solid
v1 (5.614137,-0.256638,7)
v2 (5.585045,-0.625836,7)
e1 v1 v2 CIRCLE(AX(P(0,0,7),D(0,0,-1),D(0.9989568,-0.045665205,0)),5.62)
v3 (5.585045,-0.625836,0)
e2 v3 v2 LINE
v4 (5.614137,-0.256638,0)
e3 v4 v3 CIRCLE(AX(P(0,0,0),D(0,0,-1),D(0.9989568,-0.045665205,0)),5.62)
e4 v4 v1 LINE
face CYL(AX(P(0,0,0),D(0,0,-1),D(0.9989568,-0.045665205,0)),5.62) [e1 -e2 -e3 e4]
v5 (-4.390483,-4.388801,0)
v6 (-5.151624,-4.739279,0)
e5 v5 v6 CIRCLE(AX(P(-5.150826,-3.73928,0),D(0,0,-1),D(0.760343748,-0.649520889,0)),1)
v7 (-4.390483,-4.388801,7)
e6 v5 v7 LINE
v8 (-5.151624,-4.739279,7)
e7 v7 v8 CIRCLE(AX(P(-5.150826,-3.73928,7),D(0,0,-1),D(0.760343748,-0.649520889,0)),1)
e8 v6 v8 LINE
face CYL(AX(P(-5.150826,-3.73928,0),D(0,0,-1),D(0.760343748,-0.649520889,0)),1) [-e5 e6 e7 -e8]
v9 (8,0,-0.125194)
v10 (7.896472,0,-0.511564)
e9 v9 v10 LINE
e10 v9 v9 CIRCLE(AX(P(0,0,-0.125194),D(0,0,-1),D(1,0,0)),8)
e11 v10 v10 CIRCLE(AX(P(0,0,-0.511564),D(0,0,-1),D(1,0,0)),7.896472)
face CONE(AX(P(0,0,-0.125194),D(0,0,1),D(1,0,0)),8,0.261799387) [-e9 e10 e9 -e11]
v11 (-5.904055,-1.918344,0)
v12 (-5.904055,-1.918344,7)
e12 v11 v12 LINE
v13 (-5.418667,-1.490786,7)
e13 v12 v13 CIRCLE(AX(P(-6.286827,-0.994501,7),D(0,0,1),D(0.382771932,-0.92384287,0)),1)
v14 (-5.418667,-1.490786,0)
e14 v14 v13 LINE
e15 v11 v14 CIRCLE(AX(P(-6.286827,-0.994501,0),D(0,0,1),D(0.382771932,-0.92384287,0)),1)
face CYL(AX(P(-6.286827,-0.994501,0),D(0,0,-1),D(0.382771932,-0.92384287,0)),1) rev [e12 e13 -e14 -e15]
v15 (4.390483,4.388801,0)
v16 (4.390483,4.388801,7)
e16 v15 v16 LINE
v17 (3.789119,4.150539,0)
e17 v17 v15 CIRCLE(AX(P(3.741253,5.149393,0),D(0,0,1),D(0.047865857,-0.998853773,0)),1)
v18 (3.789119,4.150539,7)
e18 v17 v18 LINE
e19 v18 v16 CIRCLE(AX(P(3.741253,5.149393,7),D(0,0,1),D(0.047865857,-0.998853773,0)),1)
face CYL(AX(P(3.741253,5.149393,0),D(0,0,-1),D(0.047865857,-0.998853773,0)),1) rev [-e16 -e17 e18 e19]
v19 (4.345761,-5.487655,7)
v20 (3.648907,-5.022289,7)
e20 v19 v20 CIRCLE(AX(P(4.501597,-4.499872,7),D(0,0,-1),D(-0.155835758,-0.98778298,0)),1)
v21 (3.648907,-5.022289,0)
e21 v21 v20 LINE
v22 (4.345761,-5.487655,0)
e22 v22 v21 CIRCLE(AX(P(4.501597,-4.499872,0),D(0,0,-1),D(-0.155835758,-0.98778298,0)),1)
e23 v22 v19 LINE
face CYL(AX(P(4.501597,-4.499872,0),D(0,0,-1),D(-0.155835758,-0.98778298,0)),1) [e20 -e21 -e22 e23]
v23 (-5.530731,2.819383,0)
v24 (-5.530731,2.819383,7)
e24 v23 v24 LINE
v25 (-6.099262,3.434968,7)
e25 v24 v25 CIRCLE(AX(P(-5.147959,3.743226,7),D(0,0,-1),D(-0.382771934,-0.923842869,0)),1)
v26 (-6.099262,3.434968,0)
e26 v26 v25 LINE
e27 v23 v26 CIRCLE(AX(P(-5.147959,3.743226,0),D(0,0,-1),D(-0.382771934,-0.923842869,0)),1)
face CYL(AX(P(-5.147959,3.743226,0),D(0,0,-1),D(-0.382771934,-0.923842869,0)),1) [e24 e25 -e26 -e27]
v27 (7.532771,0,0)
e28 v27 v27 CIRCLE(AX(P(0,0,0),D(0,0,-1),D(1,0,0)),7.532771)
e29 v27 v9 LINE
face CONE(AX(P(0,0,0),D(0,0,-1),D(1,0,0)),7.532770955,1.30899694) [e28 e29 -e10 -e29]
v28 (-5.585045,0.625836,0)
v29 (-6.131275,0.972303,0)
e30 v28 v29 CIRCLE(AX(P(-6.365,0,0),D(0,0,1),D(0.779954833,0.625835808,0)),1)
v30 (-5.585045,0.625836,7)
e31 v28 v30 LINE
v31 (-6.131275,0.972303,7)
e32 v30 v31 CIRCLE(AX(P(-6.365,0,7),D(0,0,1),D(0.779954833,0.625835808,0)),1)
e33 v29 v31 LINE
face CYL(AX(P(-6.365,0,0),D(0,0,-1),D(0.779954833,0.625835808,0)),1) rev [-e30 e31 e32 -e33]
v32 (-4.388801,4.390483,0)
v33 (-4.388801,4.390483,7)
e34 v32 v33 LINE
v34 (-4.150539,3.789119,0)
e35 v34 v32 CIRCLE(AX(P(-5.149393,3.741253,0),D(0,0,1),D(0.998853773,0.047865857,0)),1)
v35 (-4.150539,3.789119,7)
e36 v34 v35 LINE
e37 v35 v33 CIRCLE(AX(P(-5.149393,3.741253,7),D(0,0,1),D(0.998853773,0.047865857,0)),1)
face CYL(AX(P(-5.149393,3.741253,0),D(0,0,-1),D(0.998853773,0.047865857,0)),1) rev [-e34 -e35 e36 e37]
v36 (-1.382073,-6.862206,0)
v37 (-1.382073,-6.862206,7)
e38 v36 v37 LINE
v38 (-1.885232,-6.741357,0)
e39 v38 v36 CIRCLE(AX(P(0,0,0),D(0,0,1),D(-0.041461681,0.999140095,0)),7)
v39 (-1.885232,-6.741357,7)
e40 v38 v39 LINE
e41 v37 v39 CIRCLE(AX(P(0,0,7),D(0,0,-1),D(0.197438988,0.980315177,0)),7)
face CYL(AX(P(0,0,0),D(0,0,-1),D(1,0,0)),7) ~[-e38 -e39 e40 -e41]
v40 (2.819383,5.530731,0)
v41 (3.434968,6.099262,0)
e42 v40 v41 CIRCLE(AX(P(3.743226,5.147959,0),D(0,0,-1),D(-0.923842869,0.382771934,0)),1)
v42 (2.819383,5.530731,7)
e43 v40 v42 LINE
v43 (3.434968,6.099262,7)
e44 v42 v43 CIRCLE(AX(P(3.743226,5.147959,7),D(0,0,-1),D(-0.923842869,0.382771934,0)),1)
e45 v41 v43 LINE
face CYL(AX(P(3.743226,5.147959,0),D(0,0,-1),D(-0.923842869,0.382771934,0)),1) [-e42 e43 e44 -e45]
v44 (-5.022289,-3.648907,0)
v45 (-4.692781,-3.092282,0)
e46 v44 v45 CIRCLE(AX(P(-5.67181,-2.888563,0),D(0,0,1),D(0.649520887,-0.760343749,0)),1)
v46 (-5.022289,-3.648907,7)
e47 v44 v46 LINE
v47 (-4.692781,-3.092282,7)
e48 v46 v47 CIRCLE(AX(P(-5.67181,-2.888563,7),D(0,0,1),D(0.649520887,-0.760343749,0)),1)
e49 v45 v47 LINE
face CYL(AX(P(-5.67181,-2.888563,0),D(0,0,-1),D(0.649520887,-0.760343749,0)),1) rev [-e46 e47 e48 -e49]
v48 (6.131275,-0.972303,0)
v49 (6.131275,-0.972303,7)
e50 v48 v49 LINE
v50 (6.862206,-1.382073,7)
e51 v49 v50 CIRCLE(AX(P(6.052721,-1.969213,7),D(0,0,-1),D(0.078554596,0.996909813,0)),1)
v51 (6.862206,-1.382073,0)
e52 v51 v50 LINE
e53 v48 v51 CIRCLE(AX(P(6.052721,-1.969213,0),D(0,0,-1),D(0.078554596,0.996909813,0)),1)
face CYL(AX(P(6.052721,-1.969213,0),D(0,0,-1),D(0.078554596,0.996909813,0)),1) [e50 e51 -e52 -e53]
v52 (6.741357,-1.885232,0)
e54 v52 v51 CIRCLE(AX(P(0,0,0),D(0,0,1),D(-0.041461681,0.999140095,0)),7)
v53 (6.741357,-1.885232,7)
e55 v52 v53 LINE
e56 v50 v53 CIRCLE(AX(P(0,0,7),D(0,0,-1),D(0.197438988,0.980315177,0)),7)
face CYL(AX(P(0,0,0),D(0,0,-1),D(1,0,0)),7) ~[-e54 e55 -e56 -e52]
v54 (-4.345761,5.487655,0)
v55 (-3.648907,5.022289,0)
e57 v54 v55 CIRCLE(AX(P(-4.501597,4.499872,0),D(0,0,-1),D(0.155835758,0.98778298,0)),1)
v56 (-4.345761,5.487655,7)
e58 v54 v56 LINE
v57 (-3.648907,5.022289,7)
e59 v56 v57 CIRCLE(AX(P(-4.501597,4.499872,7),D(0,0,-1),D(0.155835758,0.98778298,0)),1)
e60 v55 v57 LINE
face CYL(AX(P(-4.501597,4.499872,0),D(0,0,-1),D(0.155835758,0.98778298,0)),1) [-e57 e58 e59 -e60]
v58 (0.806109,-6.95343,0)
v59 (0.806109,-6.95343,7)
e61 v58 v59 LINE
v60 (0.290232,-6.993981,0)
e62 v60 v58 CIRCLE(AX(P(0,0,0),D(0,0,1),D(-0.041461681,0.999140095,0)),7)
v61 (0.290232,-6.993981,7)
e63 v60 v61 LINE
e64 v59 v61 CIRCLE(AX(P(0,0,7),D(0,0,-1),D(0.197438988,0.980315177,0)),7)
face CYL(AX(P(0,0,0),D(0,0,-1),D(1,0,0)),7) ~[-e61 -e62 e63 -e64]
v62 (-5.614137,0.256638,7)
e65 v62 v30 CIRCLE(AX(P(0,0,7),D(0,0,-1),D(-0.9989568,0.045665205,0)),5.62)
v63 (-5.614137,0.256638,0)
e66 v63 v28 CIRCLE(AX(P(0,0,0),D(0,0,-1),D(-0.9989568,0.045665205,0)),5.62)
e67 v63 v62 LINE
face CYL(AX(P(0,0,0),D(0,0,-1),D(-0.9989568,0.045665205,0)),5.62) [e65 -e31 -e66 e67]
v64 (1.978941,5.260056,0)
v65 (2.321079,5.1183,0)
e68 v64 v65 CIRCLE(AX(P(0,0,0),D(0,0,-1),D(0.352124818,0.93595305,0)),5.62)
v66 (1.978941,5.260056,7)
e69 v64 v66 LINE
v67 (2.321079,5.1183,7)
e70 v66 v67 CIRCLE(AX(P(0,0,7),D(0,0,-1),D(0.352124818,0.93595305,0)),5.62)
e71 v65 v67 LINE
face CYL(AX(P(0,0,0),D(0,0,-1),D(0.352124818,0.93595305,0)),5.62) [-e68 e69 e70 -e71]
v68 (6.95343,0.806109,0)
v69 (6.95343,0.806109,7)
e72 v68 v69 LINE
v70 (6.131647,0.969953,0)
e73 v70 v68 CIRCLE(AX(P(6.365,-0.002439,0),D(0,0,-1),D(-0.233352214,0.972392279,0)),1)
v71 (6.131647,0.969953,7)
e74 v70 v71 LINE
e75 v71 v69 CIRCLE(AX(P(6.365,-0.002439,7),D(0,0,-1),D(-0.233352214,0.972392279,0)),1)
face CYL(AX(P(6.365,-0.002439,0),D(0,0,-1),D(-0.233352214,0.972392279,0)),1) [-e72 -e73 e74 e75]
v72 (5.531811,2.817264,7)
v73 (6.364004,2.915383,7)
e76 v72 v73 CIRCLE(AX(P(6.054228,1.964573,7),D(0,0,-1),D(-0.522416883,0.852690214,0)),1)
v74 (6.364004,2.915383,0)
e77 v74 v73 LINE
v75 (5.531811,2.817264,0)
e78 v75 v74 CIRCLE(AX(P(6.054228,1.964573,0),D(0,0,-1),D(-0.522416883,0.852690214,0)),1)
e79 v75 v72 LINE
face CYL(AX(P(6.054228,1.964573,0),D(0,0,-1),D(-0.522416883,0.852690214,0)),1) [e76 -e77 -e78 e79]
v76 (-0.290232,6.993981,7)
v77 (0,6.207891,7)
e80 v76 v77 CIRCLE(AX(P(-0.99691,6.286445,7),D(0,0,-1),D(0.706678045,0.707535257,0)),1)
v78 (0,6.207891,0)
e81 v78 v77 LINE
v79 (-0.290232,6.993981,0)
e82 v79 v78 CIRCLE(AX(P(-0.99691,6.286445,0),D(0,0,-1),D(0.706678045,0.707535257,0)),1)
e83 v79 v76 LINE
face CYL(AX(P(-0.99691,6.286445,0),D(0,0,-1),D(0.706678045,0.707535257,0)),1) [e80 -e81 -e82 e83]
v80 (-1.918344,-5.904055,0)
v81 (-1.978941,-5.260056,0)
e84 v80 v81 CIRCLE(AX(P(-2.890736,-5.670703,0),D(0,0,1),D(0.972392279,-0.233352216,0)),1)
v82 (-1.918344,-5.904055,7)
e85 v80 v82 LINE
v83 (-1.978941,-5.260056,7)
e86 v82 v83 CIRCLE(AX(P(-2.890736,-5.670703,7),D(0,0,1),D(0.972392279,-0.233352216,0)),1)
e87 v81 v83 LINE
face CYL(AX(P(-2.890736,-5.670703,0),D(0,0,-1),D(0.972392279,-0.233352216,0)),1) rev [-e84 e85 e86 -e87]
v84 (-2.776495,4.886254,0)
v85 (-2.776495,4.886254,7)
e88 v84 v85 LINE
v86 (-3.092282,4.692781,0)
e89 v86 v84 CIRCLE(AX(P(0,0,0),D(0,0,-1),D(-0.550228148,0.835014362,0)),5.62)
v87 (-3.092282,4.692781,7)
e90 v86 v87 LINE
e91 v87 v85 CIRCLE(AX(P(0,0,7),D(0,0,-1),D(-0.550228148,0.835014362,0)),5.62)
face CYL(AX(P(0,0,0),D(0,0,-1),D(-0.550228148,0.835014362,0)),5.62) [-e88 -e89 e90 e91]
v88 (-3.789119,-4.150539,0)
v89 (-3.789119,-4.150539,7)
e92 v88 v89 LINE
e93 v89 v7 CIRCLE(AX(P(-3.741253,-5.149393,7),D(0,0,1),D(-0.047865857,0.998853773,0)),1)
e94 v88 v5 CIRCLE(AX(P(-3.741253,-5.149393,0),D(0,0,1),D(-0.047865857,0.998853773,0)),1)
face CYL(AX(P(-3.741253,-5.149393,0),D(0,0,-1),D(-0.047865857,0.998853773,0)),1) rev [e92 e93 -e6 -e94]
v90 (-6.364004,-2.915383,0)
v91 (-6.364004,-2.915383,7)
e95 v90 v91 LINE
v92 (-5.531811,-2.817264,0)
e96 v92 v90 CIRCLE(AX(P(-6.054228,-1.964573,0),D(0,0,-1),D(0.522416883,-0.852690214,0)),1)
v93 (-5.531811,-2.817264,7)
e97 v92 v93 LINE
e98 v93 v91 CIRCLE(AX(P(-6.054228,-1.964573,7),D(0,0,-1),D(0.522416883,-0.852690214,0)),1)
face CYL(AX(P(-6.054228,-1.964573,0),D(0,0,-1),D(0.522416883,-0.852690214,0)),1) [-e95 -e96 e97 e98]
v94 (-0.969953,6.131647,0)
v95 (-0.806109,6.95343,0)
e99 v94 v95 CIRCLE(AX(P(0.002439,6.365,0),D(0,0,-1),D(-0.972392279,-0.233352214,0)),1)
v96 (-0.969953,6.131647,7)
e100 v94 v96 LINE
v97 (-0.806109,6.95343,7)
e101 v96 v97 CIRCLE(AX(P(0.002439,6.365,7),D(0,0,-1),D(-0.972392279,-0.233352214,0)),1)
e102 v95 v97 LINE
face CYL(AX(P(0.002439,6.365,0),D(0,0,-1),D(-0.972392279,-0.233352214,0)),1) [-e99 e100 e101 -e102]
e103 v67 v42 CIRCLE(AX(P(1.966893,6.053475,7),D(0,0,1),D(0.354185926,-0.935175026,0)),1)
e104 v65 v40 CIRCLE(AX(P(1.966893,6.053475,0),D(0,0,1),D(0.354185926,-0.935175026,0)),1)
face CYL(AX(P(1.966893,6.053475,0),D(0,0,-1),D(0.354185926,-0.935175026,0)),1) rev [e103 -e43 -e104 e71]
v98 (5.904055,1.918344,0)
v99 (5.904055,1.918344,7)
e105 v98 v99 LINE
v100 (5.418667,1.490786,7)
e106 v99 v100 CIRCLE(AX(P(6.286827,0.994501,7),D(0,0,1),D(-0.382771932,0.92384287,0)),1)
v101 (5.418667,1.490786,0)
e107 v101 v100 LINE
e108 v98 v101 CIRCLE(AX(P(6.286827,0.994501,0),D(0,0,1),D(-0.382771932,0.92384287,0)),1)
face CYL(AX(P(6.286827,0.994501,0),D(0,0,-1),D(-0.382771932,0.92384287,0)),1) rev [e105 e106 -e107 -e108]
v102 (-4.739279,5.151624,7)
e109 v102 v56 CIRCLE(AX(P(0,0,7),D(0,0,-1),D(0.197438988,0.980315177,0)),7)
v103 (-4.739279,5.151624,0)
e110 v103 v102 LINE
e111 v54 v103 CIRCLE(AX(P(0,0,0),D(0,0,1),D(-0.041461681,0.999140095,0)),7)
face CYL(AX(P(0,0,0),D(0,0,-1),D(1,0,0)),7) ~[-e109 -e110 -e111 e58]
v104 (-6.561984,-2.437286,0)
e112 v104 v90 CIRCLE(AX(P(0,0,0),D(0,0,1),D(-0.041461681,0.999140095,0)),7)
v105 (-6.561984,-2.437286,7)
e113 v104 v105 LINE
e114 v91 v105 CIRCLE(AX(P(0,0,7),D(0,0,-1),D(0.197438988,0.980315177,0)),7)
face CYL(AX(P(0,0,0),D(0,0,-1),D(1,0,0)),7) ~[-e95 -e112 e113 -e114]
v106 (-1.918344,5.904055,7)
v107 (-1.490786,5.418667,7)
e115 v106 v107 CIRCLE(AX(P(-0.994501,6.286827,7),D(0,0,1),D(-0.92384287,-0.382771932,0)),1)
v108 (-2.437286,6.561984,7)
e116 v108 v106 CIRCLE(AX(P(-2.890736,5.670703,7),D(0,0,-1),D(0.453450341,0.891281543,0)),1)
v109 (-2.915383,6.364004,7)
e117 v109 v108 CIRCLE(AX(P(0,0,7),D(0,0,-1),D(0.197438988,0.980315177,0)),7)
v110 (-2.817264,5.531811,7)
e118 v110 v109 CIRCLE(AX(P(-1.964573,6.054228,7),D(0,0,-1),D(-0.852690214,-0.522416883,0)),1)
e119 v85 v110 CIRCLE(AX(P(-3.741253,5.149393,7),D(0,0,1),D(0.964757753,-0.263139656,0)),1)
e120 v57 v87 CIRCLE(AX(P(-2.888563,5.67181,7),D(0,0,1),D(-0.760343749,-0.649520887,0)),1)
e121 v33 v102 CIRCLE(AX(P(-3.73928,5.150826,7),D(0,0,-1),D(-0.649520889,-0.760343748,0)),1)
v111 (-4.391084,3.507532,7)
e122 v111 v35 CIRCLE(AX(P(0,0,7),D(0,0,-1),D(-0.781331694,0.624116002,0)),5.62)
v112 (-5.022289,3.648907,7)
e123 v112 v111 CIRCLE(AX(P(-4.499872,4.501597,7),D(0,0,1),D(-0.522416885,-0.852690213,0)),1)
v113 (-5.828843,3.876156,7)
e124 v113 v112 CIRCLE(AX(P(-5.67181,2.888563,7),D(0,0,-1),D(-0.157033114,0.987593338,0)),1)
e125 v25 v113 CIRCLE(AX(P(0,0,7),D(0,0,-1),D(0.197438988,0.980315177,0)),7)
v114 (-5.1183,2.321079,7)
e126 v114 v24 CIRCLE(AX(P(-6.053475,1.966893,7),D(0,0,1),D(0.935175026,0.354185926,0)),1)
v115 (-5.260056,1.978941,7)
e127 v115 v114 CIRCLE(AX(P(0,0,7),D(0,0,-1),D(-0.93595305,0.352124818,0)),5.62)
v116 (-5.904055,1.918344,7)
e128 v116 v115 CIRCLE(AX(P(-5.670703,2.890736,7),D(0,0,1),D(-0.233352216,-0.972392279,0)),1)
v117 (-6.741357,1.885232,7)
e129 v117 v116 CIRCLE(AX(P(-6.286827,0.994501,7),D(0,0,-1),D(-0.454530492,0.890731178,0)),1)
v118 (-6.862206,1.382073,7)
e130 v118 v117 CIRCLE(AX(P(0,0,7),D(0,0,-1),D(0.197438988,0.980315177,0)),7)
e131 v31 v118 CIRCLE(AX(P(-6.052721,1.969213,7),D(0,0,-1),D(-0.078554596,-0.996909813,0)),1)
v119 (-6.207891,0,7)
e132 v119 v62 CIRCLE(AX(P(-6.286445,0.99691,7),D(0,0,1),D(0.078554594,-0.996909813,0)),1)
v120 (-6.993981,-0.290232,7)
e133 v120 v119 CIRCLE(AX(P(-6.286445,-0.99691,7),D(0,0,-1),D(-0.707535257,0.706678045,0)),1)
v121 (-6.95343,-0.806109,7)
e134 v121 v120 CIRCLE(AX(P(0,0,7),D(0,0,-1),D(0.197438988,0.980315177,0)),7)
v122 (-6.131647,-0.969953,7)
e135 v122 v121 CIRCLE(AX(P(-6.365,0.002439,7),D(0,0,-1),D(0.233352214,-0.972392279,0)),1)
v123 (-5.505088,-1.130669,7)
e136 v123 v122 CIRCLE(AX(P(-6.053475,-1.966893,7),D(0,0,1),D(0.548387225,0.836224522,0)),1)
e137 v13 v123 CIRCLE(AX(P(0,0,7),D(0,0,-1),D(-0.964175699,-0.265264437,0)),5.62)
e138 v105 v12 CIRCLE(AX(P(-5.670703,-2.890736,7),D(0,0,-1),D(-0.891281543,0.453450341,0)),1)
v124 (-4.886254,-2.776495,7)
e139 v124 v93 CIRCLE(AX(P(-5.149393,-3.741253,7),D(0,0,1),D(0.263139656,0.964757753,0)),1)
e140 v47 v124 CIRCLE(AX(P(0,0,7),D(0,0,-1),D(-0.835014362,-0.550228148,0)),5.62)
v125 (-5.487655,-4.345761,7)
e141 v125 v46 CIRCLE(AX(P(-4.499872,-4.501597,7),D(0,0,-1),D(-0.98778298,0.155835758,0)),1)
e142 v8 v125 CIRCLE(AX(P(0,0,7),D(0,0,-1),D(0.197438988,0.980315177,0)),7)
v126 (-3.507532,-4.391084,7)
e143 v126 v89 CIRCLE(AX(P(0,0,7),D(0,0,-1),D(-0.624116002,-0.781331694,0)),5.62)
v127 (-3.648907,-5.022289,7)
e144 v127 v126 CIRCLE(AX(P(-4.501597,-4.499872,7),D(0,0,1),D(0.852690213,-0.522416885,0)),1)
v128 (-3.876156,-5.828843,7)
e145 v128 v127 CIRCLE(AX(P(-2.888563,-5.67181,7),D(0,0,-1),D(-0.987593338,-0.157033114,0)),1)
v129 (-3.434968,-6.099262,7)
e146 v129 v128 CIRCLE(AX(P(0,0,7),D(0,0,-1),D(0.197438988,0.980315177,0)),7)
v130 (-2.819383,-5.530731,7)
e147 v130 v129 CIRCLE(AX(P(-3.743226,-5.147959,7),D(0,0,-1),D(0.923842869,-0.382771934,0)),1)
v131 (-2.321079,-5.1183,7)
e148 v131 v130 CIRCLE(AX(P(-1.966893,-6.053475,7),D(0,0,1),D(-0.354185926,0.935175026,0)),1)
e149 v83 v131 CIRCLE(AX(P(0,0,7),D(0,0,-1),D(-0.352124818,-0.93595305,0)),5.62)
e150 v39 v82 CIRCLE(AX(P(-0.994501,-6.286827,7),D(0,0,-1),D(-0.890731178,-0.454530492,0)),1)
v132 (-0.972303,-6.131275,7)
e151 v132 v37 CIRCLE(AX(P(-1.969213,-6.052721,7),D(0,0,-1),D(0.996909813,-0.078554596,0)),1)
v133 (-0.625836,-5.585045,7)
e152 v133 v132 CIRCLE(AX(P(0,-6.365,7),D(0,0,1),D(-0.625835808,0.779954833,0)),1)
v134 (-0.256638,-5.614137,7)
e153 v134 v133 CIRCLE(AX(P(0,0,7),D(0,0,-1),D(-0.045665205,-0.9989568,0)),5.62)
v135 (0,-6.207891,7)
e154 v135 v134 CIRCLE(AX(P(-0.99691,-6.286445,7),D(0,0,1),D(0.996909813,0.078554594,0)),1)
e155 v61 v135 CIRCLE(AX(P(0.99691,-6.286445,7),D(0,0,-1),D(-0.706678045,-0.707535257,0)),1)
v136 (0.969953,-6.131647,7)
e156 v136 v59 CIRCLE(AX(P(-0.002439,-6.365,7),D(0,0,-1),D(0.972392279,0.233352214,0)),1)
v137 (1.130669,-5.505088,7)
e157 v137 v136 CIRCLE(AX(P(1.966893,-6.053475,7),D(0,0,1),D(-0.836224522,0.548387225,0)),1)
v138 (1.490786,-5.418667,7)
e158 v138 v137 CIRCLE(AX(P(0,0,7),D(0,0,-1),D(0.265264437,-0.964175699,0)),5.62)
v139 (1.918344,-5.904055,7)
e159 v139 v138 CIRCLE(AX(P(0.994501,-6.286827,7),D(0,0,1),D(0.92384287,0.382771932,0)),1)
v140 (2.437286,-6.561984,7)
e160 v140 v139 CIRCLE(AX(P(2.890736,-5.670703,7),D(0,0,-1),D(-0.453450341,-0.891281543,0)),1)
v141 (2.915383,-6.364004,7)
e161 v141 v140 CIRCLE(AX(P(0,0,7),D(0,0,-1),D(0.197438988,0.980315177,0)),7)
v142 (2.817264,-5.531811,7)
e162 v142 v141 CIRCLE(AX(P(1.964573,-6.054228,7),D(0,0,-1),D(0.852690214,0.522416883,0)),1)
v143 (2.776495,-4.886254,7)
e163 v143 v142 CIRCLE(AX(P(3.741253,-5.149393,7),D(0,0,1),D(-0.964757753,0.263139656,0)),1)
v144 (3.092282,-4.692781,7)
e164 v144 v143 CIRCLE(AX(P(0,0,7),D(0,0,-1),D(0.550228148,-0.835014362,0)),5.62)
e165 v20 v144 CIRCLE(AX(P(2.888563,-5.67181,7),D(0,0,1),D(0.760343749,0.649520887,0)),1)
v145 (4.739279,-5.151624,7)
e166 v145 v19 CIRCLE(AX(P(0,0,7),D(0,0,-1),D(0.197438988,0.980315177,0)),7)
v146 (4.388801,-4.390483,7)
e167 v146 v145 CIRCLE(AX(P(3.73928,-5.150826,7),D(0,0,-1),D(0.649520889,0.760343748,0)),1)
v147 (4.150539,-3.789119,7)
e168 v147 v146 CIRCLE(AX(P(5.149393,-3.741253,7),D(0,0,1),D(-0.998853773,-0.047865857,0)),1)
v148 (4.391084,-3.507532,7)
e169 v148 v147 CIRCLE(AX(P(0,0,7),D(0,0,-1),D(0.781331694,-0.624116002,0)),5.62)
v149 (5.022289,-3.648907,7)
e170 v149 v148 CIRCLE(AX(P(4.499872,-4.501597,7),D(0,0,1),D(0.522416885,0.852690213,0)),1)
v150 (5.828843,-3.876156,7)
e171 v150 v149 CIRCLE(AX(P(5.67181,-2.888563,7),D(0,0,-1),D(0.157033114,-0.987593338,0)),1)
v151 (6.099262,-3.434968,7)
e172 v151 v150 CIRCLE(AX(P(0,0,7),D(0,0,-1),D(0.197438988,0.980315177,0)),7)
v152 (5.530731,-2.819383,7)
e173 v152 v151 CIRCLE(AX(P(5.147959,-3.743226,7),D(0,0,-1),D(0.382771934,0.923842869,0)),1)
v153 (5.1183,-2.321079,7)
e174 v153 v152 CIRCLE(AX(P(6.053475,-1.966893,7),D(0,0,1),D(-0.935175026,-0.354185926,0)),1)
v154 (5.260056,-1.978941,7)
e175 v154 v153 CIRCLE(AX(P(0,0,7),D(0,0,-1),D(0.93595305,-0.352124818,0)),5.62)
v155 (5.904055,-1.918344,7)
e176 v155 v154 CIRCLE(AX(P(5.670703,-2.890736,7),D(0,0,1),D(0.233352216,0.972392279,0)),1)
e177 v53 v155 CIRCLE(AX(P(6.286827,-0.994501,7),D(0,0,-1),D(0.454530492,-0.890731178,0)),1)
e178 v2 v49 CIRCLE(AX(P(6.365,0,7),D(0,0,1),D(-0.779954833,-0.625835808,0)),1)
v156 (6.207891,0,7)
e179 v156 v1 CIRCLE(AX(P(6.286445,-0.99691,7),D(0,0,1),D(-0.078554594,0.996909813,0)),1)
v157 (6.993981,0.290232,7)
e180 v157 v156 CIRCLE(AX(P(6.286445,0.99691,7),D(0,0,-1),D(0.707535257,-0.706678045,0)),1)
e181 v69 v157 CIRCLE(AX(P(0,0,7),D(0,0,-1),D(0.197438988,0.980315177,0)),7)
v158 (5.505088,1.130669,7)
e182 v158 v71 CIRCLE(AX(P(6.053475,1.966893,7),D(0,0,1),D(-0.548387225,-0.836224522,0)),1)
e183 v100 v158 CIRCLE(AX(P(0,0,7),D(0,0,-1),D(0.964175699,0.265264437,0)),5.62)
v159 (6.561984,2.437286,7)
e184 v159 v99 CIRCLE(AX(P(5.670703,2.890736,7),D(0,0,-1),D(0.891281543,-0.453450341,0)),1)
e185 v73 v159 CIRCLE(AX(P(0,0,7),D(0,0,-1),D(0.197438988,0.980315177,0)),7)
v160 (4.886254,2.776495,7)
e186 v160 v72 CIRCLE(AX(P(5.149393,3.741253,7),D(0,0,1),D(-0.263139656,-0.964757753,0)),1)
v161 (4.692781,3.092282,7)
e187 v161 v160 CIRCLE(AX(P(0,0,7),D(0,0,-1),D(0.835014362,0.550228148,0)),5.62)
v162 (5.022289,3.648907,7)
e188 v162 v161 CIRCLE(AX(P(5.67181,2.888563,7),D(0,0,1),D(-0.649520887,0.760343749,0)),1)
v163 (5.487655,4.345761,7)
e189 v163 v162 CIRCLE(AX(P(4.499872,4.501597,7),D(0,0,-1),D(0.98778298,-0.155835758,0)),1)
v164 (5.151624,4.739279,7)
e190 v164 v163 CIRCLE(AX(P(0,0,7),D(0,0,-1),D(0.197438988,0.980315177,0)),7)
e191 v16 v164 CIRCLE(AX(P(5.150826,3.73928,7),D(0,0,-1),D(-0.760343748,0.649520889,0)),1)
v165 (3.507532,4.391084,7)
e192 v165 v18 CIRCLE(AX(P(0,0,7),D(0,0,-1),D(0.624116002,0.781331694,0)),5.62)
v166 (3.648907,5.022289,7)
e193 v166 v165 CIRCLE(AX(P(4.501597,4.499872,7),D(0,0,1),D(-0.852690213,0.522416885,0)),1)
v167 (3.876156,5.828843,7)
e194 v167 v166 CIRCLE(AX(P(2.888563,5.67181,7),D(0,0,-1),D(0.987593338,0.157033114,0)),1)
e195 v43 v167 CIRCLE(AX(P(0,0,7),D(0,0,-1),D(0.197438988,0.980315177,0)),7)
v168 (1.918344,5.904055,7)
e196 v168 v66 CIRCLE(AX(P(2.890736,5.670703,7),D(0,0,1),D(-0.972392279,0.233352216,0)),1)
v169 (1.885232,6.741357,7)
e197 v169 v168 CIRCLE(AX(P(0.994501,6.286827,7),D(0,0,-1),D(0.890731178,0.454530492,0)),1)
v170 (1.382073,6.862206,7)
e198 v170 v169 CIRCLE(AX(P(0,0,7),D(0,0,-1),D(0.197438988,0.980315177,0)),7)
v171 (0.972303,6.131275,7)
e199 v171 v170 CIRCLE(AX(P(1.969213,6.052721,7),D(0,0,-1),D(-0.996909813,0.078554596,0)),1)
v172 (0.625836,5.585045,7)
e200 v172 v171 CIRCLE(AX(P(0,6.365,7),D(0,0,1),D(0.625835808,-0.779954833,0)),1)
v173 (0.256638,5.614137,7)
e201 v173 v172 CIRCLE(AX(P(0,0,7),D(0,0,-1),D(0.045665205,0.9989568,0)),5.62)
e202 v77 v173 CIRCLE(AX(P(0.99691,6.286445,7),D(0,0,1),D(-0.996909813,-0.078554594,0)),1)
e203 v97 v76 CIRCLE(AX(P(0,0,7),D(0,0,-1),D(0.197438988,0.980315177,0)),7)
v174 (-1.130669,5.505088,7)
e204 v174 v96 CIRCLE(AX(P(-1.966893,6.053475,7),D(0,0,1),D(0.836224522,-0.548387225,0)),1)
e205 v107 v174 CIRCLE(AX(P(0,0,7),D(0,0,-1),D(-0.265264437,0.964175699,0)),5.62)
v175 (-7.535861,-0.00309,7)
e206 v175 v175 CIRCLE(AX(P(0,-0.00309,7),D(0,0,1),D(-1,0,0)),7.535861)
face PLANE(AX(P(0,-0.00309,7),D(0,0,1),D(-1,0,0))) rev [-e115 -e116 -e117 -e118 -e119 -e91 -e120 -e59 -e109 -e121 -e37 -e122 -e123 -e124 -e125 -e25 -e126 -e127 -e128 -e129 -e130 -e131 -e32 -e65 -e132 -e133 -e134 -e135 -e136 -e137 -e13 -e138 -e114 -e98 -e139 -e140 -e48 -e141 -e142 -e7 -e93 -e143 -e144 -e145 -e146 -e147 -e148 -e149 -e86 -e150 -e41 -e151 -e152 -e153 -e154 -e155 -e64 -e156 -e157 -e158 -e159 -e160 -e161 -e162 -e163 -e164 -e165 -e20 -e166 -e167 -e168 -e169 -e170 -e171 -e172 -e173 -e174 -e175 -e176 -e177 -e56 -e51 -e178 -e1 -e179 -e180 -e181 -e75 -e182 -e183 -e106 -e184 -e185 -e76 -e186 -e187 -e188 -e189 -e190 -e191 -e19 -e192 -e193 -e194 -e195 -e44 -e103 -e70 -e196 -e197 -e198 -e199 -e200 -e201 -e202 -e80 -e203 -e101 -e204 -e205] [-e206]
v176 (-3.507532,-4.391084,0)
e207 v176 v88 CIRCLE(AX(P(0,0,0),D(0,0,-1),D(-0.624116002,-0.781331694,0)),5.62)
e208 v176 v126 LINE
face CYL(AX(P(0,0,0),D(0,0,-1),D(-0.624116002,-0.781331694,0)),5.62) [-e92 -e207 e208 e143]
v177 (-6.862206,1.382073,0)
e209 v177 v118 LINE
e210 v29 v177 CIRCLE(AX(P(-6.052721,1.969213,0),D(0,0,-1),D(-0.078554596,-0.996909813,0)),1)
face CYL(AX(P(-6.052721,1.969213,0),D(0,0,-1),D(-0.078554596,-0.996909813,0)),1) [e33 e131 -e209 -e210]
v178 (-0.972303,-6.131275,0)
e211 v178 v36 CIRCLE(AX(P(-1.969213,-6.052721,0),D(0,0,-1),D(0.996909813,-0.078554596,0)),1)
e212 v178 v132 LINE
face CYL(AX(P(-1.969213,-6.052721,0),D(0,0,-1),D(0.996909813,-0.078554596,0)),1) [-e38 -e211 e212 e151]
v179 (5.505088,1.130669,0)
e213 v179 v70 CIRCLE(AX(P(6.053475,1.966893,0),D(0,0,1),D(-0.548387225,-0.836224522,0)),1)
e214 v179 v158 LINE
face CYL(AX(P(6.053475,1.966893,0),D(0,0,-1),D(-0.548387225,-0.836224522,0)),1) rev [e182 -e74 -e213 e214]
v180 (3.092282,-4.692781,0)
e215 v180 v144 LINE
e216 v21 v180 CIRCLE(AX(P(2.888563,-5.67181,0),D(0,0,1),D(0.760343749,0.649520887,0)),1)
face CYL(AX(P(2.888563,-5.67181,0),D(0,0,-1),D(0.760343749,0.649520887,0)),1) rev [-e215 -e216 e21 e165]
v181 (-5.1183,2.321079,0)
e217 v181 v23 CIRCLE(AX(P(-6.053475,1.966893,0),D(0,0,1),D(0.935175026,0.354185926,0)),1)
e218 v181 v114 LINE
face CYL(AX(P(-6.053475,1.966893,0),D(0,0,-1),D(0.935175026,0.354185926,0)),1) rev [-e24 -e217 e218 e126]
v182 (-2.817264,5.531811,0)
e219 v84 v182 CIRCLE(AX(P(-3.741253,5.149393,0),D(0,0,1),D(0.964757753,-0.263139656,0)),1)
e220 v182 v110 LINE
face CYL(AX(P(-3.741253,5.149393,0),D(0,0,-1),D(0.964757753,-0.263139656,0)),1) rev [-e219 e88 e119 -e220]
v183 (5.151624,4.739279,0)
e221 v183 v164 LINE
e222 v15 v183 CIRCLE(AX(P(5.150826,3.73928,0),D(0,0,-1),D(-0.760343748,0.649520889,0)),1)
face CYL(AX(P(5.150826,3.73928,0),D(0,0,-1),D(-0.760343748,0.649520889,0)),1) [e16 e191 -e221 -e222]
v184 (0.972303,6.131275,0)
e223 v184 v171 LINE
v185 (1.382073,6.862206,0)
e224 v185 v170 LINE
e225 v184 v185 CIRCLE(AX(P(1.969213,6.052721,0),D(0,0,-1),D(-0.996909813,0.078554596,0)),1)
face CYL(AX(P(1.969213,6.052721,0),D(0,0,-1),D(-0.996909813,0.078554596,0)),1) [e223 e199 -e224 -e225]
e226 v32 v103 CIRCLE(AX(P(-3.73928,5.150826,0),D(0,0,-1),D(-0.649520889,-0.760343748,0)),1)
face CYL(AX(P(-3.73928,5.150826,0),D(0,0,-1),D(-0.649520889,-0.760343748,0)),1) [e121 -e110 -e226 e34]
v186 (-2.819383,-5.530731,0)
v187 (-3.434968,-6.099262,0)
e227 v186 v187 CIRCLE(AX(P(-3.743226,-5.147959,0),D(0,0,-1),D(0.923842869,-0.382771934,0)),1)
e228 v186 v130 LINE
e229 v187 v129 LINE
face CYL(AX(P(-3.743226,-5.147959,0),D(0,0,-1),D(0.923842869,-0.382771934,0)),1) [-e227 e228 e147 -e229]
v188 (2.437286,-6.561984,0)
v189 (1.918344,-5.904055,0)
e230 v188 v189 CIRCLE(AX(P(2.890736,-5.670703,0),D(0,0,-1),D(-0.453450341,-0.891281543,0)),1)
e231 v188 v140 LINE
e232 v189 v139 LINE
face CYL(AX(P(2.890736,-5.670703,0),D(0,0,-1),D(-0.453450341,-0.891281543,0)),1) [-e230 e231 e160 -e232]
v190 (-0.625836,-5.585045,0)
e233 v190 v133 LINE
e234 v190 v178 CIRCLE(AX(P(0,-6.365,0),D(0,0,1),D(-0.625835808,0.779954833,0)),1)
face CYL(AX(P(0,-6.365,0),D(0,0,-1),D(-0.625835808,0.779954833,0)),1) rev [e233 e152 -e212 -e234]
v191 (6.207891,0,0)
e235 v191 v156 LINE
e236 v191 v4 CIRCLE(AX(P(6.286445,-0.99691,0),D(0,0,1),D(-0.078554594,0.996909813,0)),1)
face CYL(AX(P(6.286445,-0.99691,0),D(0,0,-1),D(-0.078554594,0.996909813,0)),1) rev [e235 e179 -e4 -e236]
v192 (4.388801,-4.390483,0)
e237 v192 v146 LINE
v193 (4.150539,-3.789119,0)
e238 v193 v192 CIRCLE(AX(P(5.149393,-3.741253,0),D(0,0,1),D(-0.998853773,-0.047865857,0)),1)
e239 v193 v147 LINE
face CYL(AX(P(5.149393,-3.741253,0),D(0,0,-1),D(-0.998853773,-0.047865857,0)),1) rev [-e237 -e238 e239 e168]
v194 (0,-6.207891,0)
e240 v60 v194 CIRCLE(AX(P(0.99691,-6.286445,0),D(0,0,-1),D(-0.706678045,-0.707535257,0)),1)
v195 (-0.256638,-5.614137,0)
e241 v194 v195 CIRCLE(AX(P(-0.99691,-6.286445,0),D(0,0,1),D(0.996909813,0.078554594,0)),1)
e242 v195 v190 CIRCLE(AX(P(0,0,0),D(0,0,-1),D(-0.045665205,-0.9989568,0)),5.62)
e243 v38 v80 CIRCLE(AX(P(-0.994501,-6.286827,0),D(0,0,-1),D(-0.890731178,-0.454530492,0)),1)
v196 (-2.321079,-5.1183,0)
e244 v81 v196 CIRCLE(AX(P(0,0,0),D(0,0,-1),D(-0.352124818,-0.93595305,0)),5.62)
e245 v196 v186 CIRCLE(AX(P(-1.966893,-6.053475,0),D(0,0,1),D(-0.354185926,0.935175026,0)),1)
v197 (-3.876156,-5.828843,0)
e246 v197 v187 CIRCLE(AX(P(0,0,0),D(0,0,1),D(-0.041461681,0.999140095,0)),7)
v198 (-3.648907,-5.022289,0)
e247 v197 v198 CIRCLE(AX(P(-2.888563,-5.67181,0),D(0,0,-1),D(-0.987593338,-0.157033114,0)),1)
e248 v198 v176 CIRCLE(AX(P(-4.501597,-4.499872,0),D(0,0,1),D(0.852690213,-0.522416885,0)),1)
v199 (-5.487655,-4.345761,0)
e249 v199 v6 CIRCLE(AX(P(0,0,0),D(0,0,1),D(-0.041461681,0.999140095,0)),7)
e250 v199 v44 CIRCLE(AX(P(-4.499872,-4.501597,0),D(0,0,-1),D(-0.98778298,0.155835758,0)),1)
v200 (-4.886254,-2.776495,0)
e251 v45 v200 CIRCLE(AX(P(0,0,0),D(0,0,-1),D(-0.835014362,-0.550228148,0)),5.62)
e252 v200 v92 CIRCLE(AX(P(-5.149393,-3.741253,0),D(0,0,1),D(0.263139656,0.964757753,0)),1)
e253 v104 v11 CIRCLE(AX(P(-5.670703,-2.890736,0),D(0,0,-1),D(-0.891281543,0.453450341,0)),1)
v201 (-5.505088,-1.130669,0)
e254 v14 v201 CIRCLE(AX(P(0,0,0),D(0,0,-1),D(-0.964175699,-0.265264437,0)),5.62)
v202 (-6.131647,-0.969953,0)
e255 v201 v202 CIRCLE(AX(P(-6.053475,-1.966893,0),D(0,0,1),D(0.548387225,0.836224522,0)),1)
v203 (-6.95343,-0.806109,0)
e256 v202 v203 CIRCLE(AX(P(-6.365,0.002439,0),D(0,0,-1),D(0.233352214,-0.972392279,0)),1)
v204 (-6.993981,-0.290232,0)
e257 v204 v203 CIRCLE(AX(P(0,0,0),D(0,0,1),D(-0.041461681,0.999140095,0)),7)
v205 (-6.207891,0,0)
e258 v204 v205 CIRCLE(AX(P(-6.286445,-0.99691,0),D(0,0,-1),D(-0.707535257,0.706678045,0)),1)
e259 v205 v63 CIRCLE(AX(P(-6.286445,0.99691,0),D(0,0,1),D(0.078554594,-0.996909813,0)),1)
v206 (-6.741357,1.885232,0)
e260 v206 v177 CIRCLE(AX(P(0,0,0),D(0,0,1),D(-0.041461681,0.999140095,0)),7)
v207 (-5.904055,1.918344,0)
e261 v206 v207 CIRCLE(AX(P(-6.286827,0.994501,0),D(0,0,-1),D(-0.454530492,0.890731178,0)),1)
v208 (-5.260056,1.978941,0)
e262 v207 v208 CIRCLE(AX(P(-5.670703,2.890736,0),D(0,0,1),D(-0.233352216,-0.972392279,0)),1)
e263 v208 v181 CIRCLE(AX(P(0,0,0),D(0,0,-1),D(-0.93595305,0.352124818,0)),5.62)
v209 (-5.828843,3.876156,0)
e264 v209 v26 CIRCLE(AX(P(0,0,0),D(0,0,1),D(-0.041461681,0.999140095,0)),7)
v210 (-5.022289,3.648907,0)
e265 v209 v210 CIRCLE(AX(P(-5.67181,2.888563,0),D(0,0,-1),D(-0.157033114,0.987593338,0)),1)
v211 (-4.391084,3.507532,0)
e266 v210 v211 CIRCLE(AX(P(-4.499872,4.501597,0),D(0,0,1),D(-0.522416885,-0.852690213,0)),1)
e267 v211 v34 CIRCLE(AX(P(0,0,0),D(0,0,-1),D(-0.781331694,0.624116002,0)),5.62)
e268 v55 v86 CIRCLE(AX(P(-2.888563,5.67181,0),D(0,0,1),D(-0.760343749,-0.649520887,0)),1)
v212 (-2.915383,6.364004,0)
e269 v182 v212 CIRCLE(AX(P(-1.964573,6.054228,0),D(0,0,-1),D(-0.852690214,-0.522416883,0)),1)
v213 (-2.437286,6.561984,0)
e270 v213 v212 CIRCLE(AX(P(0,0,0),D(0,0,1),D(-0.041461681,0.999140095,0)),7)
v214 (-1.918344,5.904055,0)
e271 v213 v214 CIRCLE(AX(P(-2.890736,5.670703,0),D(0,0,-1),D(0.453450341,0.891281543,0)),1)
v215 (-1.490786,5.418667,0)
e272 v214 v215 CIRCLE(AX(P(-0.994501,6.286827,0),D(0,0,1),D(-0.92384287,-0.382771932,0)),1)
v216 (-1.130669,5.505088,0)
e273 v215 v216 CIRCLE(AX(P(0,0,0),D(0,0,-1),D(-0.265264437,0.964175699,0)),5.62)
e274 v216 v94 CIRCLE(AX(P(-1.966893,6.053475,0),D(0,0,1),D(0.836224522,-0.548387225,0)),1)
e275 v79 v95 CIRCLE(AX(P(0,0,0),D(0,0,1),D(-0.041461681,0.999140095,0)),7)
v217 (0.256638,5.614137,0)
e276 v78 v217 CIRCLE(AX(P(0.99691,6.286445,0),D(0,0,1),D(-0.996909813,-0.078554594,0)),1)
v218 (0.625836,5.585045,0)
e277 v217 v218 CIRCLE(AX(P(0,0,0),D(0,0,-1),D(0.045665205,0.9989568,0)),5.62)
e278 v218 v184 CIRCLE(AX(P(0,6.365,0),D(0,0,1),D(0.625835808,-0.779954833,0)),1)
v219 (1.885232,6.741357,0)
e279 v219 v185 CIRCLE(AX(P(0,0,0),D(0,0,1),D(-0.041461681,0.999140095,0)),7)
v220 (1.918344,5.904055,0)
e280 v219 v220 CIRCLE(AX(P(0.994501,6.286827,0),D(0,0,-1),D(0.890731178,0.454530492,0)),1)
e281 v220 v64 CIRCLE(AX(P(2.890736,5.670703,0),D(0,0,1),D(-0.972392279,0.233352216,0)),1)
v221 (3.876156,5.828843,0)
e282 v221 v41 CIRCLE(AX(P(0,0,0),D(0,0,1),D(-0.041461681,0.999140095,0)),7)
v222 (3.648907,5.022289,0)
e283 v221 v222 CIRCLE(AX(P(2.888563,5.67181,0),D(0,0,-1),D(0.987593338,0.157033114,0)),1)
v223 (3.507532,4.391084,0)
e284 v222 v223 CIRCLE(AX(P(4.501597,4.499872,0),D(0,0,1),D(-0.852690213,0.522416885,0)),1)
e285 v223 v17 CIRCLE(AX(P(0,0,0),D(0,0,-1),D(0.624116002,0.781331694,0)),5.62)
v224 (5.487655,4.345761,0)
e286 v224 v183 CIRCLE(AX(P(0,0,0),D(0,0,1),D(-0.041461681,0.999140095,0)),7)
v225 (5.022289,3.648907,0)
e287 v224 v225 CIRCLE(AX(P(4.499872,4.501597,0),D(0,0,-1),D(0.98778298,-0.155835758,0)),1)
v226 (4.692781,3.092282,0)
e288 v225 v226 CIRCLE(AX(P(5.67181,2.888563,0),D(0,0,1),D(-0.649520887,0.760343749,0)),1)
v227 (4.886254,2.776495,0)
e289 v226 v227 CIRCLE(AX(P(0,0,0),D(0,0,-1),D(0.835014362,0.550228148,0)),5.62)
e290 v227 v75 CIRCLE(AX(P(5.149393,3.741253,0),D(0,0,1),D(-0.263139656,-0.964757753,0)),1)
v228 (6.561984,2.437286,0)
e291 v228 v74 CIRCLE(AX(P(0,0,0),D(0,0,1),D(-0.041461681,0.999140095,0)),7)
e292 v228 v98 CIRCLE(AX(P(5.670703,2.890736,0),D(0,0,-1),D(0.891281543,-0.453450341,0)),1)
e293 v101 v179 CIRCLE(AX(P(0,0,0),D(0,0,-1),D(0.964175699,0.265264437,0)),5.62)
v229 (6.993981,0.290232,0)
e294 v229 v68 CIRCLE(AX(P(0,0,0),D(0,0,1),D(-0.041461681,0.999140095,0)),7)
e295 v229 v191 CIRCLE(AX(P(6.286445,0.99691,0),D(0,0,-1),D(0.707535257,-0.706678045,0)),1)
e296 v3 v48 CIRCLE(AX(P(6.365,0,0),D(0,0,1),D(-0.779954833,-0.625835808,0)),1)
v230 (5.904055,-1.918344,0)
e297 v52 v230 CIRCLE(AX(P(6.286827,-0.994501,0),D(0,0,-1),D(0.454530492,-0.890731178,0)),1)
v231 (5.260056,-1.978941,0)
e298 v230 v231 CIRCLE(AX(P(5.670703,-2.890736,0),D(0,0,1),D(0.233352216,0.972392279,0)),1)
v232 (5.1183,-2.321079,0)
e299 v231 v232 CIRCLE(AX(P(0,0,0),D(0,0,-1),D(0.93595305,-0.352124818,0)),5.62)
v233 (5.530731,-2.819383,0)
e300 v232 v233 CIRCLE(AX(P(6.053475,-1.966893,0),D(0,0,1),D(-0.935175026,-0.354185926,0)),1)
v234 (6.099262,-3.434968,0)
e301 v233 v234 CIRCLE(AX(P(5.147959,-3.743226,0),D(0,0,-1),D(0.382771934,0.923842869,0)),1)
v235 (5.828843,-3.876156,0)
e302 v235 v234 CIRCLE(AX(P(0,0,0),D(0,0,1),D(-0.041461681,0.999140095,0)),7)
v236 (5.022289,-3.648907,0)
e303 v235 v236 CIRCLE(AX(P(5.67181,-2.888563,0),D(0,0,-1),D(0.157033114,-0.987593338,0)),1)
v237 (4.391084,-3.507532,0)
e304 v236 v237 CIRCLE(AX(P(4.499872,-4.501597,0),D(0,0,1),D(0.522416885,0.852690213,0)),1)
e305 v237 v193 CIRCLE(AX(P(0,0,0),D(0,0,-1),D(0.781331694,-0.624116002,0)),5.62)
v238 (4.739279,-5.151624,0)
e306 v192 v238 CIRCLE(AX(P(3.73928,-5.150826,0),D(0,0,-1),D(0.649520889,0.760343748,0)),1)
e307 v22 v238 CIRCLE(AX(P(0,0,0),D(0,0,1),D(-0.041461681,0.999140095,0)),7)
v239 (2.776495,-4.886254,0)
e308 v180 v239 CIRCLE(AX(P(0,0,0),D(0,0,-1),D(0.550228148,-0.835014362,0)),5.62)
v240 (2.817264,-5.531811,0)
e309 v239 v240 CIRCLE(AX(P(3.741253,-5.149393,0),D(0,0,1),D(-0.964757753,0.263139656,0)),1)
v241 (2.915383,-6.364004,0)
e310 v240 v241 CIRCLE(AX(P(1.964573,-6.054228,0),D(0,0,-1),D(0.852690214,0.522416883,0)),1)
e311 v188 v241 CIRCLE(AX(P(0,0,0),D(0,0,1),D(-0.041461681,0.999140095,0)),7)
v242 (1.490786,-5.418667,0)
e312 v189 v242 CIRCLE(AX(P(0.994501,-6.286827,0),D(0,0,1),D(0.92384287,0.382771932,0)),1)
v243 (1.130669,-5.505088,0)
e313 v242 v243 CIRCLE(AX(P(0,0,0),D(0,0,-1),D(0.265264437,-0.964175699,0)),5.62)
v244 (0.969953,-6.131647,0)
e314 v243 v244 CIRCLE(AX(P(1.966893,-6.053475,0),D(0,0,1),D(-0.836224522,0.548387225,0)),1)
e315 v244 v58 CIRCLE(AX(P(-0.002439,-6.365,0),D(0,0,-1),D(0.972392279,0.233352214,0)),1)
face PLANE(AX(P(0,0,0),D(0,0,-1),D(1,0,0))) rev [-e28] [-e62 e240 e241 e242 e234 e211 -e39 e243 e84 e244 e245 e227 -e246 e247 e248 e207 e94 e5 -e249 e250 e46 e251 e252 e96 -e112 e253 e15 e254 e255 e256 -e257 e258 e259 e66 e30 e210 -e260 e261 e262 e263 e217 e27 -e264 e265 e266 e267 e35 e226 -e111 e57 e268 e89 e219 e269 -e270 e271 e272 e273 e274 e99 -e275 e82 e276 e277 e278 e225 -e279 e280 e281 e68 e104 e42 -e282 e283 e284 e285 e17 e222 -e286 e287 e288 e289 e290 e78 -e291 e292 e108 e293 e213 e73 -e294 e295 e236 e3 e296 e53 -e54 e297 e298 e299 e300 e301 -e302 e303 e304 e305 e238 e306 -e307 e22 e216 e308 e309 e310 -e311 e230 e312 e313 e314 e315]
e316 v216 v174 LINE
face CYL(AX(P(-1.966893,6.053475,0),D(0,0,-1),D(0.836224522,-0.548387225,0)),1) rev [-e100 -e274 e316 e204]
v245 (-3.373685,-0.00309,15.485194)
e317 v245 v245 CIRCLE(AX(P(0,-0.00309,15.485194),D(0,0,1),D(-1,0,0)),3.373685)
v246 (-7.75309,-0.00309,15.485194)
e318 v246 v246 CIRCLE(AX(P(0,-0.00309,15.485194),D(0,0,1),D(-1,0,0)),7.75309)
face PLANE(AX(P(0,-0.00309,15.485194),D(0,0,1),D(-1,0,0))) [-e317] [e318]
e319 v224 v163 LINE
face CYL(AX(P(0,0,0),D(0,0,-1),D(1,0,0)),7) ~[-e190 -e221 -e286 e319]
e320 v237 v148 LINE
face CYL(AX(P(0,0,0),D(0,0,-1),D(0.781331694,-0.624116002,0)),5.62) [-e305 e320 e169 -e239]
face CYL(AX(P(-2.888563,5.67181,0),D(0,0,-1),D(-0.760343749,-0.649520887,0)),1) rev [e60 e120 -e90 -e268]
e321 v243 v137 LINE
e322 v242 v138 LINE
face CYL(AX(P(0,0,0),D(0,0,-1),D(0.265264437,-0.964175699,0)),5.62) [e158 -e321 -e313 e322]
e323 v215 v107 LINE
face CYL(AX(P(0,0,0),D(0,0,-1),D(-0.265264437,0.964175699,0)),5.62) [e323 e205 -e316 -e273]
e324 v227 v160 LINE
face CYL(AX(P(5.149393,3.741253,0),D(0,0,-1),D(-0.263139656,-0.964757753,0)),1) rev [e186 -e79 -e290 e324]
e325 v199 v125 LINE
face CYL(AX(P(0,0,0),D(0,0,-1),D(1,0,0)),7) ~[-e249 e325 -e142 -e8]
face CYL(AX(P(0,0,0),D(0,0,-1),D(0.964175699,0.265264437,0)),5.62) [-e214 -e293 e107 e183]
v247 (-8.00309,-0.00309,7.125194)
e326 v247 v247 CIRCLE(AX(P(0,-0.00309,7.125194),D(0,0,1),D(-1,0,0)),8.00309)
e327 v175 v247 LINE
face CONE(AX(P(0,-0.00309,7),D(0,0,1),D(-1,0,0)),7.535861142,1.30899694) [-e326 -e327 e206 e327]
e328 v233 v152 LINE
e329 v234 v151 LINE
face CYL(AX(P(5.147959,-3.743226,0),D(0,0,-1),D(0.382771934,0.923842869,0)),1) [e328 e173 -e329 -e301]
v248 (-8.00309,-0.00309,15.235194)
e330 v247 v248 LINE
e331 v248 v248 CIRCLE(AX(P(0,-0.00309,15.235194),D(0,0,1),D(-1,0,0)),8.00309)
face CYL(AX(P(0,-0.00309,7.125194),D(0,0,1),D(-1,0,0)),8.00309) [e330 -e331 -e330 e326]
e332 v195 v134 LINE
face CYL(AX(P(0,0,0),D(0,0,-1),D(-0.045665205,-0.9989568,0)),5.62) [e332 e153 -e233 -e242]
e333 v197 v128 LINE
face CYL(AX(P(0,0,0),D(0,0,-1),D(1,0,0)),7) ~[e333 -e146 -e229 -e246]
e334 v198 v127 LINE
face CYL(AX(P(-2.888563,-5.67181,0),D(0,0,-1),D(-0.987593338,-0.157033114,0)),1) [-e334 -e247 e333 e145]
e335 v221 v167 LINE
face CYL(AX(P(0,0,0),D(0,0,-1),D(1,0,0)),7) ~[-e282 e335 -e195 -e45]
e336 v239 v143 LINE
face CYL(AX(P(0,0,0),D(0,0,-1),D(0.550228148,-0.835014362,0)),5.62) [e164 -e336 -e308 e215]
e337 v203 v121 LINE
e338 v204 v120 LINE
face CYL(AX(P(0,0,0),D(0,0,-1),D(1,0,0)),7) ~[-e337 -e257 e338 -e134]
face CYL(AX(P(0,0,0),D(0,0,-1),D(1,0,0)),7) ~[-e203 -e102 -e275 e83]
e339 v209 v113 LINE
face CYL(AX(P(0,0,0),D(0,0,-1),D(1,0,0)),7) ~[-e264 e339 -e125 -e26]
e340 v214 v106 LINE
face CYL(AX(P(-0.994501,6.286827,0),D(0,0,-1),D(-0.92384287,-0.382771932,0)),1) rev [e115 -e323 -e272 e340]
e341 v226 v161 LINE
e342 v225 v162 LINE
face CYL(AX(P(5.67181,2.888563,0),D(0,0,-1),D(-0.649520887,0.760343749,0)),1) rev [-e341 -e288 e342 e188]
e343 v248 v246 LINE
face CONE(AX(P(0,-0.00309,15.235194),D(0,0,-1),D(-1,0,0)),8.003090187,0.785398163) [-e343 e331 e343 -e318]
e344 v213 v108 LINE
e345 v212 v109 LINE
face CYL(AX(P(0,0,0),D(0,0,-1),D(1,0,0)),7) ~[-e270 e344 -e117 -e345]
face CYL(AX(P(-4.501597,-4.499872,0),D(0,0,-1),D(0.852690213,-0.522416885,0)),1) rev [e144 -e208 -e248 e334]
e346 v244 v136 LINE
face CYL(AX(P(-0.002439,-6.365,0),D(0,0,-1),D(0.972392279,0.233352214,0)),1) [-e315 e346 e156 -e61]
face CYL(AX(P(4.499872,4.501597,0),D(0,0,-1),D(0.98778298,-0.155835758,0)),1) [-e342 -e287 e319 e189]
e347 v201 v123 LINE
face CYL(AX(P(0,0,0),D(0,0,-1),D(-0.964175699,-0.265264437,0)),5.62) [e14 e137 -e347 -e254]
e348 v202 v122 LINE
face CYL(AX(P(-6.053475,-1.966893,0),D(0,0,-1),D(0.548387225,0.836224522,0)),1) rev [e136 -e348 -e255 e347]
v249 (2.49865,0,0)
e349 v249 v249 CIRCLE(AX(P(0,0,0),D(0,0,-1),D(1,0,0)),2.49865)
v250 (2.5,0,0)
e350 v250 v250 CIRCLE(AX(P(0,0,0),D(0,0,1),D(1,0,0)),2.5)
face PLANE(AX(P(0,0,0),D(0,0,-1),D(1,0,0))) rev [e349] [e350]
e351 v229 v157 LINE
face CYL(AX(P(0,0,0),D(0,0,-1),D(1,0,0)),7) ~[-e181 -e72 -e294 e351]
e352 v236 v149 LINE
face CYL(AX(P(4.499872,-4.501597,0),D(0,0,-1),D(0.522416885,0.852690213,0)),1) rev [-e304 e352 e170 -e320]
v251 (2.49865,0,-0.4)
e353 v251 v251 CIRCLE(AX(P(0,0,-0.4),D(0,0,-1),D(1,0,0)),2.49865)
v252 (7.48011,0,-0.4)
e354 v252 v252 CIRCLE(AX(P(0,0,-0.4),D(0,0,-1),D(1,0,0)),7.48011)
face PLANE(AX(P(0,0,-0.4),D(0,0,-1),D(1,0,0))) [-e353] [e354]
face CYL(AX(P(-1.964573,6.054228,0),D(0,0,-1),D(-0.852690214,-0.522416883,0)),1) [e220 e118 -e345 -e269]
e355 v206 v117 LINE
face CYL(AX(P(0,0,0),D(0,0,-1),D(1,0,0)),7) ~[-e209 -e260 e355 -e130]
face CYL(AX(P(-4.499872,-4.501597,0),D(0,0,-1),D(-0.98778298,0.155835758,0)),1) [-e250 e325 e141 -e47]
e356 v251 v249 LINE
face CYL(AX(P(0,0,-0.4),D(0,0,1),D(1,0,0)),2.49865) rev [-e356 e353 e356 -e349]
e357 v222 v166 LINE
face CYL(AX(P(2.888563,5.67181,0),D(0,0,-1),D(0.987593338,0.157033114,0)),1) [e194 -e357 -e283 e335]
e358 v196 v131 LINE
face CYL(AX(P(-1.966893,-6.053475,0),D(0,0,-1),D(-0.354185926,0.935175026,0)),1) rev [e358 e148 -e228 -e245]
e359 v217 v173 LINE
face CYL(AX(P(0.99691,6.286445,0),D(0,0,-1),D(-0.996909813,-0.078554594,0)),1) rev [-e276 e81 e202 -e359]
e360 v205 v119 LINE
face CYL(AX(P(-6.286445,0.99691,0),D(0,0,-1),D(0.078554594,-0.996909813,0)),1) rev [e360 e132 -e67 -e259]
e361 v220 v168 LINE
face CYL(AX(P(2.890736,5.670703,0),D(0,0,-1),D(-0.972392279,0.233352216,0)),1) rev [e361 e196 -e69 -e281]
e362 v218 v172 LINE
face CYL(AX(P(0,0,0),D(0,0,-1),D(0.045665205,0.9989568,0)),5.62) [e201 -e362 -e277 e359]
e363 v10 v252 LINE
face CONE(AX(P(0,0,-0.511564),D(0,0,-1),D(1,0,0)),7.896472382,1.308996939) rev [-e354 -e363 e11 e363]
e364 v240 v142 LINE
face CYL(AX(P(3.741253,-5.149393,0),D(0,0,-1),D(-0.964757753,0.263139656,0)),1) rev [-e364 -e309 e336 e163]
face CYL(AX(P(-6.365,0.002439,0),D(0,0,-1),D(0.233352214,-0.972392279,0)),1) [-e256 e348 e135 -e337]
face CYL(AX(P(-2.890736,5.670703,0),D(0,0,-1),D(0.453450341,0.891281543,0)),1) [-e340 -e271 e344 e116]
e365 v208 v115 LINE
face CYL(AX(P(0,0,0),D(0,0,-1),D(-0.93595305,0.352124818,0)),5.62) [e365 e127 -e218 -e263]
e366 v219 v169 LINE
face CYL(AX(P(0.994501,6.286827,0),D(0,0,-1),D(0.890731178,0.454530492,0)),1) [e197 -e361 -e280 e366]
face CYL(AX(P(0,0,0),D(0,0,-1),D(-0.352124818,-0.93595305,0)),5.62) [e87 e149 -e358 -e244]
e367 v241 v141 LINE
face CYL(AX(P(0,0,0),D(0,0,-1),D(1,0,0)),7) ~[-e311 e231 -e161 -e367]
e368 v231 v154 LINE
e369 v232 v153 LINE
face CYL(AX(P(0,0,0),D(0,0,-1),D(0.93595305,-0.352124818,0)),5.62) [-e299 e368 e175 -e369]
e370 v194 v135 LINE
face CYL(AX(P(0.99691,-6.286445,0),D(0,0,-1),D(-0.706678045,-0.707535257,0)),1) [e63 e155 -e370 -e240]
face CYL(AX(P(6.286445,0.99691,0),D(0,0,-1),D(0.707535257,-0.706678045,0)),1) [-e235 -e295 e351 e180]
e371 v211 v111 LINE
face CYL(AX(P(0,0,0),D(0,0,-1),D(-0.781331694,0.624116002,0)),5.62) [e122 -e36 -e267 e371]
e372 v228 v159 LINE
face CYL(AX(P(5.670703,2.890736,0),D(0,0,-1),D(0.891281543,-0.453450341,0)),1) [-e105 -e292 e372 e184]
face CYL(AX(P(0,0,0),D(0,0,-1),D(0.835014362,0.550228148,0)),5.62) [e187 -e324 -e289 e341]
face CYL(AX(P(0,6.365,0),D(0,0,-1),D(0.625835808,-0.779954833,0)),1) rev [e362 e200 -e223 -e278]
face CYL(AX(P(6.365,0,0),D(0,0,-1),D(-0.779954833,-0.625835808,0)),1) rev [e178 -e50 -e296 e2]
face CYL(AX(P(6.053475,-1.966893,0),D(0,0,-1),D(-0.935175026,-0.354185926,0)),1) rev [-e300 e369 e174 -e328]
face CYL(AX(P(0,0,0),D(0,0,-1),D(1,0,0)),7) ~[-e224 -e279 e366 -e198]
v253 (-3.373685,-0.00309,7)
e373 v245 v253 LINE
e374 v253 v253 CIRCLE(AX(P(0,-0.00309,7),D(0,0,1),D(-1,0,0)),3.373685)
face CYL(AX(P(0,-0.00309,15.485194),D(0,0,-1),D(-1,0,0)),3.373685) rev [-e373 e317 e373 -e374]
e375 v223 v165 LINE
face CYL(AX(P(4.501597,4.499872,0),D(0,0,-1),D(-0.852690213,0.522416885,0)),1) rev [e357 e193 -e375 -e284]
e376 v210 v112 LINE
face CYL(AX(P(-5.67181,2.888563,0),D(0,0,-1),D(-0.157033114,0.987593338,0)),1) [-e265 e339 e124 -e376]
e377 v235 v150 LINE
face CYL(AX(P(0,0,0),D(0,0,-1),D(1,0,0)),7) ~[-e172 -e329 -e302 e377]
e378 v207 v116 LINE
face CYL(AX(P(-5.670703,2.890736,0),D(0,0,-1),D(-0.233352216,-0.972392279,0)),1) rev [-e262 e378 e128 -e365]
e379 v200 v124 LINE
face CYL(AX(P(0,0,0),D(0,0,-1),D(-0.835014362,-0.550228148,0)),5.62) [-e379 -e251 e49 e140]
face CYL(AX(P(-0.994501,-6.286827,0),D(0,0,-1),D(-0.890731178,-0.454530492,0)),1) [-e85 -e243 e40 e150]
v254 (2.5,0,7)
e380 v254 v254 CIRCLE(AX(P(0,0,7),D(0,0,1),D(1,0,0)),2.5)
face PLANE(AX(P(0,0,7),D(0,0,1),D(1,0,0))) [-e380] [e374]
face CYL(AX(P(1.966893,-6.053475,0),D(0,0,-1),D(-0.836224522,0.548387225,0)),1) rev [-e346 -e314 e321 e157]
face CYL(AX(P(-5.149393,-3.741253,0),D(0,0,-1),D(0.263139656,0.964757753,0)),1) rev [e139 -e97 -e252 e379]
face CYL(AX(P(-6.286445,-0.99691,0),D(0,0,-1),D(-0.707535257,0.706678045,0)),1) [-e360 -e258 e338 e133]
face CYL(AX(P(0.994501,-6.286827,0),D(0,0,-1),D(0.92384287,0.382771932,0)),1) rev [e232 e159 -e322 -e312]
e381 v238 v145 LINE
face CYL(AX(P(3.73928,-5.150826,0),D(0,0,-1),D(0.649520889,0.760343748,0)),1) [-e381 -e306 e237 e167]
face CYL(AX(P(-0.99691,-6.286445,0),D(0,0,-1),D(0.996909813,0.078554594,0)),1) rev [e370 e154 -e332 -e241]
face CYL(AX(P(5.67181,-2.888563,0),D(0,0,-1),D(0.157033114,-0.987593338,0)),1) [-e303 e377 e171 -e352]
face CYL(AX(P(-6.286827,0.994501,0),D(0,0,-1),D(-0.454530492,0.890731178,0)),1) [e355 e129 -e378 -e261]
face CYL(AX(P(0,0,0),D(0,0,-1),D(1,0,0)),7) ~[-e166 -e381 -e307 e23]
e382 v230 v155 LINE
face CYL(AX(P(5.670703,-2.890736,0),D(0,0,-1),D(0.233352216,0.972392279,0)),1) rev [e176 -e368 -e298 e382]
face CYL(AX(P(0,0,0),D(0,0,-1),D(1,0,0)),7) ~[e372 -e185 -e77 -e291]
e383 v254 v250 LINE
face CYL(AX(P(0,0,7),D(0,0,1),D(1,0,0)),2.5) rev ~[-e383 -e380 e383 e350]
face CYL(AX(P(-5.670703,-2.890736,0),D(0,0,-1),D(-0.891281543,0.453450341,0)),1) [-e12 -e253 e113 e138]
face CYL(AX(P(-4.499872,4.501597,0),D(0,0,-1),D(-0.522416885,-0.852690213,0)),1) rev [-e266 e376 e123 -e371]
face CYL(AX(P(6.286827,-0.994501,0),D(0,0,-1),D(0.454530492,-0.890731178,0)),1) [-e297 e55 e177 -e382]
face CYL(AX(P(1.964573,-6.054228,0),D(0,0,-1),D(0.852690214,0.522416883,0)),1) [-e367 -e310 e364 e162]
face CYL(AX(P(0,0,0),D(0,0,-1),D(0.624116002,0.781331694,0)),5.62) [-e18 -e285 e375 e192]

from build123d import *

# Parameters (mm, degrees)
SKETCH1_R           = 7
BOSS_EXTRUDE1_DEPTH = 7
CUT_EXTRUDE1_START  = -7
CUT_EXTRUDE1_DEPTH  = 7
CIRPATTERN1_COUNT   = 20
SKETCH3_R           = 2.5
CUT_EXTRUDE2_DEPTH  = 7


with BuildPart() as part:
    # Sketch1 → Boss-Extrude1 (new body)
    with BuildSketch(Plane.XY):
        Circle(SKETCH1_R)
    extrude(amount=BOSS_EXTRUDE1_DEPTH)

    # Sketch2 → Cut-Extrude1 (cut)
    with BuildSketch(Plane.XY.offset(7).offset(CUT_EXTRUDE1_START)):
        with BuildLine():
            ThreePointArc((0.972302791, 6.1312752), (1.096934983, 6.541731598), (1.382072919, 6.862206238))
            ThreePointArc((1.382072919, 6.862206238), (0.549882168, 6.978368692), (-0.290231769, 6.993980663))
            ThreePointArc((-0.290231769, 6.993980663), (-0.058806828, 6.632801852), (0, 6.207890809))
            ThreePointArc((0, 6.207890809), (0.07898528, 5.889690377), (0.256638442, 5.614137219))
            ThreePointArc((0.256638442, 5.614137219), (0.441476826, 5.60263315), (0.62583581, 5.585045169))
            ThreePointArc((0.62583581, 5.585045169), (0.844454593, 5.829372853), (0.972302791, 6.1312752))
        make_face()
    cut_extrude1 = extrude(amount=CUT_EXTRUDE1_DEPTH, mode=Mode.SUBTRACT)

    # CirPattern1: Cut-Extrude1 ×20 about axis
    cirpattern1_axis = Axis((0, 0, 0), (0, 0, 1))
    for i in range(1, CIRPATTERN1_COUNT):
        add(cut_extrude1.rotate(cirpattern1_axis, i * 360 / CIRPATTERN1_COUNT), mode=Mode.SUBTRACT)

    # Sketch3 → Cut-Extrude2 (cut)
    with BuildSketch(Plane.XY.offset(7)):
        Circle(SKETCH3_R)
    extrude(amount=-CUT_EXTRUDE2_DEPTH, mode=Mode.SUBTRACT)

    # Sketch4 → Revolve3 (revolve)
    with BuildSketch(Plane(origin=(0, 0, 0), x_dir=(0, 0, -1), z_dir=(1, 0, 0)), mode=Mode.PRIVATE) as revolve3_sk:
        Polygon((0, -7.532770955), (0.125193645, -8), (0.511563976, -7.896472382), (0.4, -7.480109956), (0.4, -2.498650108), (0, -2.498650108), align=None)
    revolve(revolve3_sk.sketch.rotate(Axis((0, 0, 0), (0, 0, -1)), 270), axis=Axis((0, 0, 0), (0, 0, -1)))

    # Sketch7 → Revolve4 (revolve)
    with BuildSketch(Plane(origin=(0, 0, 0), x_dir=(0, 0, -1), z_dir=(1, 0, 0)), mode=Mode.PRIVATE) as revolve4_sk:
        Polygon((-7, 3.370594433), (-7, 7.532770955), (-7.125193645, 8), (-15.235193645, 8), (-15.485193645, 7.75), (-15.485193645, 3.370594433), align=None)
    revolve(revolve4_sk.sketch.rotate(Axis((0, -0.003090187, 7), (0, 0, 1)), 90), axis=Axis((0, -0.003090187, 7), (0, 0, 1)))


solid = part.part
